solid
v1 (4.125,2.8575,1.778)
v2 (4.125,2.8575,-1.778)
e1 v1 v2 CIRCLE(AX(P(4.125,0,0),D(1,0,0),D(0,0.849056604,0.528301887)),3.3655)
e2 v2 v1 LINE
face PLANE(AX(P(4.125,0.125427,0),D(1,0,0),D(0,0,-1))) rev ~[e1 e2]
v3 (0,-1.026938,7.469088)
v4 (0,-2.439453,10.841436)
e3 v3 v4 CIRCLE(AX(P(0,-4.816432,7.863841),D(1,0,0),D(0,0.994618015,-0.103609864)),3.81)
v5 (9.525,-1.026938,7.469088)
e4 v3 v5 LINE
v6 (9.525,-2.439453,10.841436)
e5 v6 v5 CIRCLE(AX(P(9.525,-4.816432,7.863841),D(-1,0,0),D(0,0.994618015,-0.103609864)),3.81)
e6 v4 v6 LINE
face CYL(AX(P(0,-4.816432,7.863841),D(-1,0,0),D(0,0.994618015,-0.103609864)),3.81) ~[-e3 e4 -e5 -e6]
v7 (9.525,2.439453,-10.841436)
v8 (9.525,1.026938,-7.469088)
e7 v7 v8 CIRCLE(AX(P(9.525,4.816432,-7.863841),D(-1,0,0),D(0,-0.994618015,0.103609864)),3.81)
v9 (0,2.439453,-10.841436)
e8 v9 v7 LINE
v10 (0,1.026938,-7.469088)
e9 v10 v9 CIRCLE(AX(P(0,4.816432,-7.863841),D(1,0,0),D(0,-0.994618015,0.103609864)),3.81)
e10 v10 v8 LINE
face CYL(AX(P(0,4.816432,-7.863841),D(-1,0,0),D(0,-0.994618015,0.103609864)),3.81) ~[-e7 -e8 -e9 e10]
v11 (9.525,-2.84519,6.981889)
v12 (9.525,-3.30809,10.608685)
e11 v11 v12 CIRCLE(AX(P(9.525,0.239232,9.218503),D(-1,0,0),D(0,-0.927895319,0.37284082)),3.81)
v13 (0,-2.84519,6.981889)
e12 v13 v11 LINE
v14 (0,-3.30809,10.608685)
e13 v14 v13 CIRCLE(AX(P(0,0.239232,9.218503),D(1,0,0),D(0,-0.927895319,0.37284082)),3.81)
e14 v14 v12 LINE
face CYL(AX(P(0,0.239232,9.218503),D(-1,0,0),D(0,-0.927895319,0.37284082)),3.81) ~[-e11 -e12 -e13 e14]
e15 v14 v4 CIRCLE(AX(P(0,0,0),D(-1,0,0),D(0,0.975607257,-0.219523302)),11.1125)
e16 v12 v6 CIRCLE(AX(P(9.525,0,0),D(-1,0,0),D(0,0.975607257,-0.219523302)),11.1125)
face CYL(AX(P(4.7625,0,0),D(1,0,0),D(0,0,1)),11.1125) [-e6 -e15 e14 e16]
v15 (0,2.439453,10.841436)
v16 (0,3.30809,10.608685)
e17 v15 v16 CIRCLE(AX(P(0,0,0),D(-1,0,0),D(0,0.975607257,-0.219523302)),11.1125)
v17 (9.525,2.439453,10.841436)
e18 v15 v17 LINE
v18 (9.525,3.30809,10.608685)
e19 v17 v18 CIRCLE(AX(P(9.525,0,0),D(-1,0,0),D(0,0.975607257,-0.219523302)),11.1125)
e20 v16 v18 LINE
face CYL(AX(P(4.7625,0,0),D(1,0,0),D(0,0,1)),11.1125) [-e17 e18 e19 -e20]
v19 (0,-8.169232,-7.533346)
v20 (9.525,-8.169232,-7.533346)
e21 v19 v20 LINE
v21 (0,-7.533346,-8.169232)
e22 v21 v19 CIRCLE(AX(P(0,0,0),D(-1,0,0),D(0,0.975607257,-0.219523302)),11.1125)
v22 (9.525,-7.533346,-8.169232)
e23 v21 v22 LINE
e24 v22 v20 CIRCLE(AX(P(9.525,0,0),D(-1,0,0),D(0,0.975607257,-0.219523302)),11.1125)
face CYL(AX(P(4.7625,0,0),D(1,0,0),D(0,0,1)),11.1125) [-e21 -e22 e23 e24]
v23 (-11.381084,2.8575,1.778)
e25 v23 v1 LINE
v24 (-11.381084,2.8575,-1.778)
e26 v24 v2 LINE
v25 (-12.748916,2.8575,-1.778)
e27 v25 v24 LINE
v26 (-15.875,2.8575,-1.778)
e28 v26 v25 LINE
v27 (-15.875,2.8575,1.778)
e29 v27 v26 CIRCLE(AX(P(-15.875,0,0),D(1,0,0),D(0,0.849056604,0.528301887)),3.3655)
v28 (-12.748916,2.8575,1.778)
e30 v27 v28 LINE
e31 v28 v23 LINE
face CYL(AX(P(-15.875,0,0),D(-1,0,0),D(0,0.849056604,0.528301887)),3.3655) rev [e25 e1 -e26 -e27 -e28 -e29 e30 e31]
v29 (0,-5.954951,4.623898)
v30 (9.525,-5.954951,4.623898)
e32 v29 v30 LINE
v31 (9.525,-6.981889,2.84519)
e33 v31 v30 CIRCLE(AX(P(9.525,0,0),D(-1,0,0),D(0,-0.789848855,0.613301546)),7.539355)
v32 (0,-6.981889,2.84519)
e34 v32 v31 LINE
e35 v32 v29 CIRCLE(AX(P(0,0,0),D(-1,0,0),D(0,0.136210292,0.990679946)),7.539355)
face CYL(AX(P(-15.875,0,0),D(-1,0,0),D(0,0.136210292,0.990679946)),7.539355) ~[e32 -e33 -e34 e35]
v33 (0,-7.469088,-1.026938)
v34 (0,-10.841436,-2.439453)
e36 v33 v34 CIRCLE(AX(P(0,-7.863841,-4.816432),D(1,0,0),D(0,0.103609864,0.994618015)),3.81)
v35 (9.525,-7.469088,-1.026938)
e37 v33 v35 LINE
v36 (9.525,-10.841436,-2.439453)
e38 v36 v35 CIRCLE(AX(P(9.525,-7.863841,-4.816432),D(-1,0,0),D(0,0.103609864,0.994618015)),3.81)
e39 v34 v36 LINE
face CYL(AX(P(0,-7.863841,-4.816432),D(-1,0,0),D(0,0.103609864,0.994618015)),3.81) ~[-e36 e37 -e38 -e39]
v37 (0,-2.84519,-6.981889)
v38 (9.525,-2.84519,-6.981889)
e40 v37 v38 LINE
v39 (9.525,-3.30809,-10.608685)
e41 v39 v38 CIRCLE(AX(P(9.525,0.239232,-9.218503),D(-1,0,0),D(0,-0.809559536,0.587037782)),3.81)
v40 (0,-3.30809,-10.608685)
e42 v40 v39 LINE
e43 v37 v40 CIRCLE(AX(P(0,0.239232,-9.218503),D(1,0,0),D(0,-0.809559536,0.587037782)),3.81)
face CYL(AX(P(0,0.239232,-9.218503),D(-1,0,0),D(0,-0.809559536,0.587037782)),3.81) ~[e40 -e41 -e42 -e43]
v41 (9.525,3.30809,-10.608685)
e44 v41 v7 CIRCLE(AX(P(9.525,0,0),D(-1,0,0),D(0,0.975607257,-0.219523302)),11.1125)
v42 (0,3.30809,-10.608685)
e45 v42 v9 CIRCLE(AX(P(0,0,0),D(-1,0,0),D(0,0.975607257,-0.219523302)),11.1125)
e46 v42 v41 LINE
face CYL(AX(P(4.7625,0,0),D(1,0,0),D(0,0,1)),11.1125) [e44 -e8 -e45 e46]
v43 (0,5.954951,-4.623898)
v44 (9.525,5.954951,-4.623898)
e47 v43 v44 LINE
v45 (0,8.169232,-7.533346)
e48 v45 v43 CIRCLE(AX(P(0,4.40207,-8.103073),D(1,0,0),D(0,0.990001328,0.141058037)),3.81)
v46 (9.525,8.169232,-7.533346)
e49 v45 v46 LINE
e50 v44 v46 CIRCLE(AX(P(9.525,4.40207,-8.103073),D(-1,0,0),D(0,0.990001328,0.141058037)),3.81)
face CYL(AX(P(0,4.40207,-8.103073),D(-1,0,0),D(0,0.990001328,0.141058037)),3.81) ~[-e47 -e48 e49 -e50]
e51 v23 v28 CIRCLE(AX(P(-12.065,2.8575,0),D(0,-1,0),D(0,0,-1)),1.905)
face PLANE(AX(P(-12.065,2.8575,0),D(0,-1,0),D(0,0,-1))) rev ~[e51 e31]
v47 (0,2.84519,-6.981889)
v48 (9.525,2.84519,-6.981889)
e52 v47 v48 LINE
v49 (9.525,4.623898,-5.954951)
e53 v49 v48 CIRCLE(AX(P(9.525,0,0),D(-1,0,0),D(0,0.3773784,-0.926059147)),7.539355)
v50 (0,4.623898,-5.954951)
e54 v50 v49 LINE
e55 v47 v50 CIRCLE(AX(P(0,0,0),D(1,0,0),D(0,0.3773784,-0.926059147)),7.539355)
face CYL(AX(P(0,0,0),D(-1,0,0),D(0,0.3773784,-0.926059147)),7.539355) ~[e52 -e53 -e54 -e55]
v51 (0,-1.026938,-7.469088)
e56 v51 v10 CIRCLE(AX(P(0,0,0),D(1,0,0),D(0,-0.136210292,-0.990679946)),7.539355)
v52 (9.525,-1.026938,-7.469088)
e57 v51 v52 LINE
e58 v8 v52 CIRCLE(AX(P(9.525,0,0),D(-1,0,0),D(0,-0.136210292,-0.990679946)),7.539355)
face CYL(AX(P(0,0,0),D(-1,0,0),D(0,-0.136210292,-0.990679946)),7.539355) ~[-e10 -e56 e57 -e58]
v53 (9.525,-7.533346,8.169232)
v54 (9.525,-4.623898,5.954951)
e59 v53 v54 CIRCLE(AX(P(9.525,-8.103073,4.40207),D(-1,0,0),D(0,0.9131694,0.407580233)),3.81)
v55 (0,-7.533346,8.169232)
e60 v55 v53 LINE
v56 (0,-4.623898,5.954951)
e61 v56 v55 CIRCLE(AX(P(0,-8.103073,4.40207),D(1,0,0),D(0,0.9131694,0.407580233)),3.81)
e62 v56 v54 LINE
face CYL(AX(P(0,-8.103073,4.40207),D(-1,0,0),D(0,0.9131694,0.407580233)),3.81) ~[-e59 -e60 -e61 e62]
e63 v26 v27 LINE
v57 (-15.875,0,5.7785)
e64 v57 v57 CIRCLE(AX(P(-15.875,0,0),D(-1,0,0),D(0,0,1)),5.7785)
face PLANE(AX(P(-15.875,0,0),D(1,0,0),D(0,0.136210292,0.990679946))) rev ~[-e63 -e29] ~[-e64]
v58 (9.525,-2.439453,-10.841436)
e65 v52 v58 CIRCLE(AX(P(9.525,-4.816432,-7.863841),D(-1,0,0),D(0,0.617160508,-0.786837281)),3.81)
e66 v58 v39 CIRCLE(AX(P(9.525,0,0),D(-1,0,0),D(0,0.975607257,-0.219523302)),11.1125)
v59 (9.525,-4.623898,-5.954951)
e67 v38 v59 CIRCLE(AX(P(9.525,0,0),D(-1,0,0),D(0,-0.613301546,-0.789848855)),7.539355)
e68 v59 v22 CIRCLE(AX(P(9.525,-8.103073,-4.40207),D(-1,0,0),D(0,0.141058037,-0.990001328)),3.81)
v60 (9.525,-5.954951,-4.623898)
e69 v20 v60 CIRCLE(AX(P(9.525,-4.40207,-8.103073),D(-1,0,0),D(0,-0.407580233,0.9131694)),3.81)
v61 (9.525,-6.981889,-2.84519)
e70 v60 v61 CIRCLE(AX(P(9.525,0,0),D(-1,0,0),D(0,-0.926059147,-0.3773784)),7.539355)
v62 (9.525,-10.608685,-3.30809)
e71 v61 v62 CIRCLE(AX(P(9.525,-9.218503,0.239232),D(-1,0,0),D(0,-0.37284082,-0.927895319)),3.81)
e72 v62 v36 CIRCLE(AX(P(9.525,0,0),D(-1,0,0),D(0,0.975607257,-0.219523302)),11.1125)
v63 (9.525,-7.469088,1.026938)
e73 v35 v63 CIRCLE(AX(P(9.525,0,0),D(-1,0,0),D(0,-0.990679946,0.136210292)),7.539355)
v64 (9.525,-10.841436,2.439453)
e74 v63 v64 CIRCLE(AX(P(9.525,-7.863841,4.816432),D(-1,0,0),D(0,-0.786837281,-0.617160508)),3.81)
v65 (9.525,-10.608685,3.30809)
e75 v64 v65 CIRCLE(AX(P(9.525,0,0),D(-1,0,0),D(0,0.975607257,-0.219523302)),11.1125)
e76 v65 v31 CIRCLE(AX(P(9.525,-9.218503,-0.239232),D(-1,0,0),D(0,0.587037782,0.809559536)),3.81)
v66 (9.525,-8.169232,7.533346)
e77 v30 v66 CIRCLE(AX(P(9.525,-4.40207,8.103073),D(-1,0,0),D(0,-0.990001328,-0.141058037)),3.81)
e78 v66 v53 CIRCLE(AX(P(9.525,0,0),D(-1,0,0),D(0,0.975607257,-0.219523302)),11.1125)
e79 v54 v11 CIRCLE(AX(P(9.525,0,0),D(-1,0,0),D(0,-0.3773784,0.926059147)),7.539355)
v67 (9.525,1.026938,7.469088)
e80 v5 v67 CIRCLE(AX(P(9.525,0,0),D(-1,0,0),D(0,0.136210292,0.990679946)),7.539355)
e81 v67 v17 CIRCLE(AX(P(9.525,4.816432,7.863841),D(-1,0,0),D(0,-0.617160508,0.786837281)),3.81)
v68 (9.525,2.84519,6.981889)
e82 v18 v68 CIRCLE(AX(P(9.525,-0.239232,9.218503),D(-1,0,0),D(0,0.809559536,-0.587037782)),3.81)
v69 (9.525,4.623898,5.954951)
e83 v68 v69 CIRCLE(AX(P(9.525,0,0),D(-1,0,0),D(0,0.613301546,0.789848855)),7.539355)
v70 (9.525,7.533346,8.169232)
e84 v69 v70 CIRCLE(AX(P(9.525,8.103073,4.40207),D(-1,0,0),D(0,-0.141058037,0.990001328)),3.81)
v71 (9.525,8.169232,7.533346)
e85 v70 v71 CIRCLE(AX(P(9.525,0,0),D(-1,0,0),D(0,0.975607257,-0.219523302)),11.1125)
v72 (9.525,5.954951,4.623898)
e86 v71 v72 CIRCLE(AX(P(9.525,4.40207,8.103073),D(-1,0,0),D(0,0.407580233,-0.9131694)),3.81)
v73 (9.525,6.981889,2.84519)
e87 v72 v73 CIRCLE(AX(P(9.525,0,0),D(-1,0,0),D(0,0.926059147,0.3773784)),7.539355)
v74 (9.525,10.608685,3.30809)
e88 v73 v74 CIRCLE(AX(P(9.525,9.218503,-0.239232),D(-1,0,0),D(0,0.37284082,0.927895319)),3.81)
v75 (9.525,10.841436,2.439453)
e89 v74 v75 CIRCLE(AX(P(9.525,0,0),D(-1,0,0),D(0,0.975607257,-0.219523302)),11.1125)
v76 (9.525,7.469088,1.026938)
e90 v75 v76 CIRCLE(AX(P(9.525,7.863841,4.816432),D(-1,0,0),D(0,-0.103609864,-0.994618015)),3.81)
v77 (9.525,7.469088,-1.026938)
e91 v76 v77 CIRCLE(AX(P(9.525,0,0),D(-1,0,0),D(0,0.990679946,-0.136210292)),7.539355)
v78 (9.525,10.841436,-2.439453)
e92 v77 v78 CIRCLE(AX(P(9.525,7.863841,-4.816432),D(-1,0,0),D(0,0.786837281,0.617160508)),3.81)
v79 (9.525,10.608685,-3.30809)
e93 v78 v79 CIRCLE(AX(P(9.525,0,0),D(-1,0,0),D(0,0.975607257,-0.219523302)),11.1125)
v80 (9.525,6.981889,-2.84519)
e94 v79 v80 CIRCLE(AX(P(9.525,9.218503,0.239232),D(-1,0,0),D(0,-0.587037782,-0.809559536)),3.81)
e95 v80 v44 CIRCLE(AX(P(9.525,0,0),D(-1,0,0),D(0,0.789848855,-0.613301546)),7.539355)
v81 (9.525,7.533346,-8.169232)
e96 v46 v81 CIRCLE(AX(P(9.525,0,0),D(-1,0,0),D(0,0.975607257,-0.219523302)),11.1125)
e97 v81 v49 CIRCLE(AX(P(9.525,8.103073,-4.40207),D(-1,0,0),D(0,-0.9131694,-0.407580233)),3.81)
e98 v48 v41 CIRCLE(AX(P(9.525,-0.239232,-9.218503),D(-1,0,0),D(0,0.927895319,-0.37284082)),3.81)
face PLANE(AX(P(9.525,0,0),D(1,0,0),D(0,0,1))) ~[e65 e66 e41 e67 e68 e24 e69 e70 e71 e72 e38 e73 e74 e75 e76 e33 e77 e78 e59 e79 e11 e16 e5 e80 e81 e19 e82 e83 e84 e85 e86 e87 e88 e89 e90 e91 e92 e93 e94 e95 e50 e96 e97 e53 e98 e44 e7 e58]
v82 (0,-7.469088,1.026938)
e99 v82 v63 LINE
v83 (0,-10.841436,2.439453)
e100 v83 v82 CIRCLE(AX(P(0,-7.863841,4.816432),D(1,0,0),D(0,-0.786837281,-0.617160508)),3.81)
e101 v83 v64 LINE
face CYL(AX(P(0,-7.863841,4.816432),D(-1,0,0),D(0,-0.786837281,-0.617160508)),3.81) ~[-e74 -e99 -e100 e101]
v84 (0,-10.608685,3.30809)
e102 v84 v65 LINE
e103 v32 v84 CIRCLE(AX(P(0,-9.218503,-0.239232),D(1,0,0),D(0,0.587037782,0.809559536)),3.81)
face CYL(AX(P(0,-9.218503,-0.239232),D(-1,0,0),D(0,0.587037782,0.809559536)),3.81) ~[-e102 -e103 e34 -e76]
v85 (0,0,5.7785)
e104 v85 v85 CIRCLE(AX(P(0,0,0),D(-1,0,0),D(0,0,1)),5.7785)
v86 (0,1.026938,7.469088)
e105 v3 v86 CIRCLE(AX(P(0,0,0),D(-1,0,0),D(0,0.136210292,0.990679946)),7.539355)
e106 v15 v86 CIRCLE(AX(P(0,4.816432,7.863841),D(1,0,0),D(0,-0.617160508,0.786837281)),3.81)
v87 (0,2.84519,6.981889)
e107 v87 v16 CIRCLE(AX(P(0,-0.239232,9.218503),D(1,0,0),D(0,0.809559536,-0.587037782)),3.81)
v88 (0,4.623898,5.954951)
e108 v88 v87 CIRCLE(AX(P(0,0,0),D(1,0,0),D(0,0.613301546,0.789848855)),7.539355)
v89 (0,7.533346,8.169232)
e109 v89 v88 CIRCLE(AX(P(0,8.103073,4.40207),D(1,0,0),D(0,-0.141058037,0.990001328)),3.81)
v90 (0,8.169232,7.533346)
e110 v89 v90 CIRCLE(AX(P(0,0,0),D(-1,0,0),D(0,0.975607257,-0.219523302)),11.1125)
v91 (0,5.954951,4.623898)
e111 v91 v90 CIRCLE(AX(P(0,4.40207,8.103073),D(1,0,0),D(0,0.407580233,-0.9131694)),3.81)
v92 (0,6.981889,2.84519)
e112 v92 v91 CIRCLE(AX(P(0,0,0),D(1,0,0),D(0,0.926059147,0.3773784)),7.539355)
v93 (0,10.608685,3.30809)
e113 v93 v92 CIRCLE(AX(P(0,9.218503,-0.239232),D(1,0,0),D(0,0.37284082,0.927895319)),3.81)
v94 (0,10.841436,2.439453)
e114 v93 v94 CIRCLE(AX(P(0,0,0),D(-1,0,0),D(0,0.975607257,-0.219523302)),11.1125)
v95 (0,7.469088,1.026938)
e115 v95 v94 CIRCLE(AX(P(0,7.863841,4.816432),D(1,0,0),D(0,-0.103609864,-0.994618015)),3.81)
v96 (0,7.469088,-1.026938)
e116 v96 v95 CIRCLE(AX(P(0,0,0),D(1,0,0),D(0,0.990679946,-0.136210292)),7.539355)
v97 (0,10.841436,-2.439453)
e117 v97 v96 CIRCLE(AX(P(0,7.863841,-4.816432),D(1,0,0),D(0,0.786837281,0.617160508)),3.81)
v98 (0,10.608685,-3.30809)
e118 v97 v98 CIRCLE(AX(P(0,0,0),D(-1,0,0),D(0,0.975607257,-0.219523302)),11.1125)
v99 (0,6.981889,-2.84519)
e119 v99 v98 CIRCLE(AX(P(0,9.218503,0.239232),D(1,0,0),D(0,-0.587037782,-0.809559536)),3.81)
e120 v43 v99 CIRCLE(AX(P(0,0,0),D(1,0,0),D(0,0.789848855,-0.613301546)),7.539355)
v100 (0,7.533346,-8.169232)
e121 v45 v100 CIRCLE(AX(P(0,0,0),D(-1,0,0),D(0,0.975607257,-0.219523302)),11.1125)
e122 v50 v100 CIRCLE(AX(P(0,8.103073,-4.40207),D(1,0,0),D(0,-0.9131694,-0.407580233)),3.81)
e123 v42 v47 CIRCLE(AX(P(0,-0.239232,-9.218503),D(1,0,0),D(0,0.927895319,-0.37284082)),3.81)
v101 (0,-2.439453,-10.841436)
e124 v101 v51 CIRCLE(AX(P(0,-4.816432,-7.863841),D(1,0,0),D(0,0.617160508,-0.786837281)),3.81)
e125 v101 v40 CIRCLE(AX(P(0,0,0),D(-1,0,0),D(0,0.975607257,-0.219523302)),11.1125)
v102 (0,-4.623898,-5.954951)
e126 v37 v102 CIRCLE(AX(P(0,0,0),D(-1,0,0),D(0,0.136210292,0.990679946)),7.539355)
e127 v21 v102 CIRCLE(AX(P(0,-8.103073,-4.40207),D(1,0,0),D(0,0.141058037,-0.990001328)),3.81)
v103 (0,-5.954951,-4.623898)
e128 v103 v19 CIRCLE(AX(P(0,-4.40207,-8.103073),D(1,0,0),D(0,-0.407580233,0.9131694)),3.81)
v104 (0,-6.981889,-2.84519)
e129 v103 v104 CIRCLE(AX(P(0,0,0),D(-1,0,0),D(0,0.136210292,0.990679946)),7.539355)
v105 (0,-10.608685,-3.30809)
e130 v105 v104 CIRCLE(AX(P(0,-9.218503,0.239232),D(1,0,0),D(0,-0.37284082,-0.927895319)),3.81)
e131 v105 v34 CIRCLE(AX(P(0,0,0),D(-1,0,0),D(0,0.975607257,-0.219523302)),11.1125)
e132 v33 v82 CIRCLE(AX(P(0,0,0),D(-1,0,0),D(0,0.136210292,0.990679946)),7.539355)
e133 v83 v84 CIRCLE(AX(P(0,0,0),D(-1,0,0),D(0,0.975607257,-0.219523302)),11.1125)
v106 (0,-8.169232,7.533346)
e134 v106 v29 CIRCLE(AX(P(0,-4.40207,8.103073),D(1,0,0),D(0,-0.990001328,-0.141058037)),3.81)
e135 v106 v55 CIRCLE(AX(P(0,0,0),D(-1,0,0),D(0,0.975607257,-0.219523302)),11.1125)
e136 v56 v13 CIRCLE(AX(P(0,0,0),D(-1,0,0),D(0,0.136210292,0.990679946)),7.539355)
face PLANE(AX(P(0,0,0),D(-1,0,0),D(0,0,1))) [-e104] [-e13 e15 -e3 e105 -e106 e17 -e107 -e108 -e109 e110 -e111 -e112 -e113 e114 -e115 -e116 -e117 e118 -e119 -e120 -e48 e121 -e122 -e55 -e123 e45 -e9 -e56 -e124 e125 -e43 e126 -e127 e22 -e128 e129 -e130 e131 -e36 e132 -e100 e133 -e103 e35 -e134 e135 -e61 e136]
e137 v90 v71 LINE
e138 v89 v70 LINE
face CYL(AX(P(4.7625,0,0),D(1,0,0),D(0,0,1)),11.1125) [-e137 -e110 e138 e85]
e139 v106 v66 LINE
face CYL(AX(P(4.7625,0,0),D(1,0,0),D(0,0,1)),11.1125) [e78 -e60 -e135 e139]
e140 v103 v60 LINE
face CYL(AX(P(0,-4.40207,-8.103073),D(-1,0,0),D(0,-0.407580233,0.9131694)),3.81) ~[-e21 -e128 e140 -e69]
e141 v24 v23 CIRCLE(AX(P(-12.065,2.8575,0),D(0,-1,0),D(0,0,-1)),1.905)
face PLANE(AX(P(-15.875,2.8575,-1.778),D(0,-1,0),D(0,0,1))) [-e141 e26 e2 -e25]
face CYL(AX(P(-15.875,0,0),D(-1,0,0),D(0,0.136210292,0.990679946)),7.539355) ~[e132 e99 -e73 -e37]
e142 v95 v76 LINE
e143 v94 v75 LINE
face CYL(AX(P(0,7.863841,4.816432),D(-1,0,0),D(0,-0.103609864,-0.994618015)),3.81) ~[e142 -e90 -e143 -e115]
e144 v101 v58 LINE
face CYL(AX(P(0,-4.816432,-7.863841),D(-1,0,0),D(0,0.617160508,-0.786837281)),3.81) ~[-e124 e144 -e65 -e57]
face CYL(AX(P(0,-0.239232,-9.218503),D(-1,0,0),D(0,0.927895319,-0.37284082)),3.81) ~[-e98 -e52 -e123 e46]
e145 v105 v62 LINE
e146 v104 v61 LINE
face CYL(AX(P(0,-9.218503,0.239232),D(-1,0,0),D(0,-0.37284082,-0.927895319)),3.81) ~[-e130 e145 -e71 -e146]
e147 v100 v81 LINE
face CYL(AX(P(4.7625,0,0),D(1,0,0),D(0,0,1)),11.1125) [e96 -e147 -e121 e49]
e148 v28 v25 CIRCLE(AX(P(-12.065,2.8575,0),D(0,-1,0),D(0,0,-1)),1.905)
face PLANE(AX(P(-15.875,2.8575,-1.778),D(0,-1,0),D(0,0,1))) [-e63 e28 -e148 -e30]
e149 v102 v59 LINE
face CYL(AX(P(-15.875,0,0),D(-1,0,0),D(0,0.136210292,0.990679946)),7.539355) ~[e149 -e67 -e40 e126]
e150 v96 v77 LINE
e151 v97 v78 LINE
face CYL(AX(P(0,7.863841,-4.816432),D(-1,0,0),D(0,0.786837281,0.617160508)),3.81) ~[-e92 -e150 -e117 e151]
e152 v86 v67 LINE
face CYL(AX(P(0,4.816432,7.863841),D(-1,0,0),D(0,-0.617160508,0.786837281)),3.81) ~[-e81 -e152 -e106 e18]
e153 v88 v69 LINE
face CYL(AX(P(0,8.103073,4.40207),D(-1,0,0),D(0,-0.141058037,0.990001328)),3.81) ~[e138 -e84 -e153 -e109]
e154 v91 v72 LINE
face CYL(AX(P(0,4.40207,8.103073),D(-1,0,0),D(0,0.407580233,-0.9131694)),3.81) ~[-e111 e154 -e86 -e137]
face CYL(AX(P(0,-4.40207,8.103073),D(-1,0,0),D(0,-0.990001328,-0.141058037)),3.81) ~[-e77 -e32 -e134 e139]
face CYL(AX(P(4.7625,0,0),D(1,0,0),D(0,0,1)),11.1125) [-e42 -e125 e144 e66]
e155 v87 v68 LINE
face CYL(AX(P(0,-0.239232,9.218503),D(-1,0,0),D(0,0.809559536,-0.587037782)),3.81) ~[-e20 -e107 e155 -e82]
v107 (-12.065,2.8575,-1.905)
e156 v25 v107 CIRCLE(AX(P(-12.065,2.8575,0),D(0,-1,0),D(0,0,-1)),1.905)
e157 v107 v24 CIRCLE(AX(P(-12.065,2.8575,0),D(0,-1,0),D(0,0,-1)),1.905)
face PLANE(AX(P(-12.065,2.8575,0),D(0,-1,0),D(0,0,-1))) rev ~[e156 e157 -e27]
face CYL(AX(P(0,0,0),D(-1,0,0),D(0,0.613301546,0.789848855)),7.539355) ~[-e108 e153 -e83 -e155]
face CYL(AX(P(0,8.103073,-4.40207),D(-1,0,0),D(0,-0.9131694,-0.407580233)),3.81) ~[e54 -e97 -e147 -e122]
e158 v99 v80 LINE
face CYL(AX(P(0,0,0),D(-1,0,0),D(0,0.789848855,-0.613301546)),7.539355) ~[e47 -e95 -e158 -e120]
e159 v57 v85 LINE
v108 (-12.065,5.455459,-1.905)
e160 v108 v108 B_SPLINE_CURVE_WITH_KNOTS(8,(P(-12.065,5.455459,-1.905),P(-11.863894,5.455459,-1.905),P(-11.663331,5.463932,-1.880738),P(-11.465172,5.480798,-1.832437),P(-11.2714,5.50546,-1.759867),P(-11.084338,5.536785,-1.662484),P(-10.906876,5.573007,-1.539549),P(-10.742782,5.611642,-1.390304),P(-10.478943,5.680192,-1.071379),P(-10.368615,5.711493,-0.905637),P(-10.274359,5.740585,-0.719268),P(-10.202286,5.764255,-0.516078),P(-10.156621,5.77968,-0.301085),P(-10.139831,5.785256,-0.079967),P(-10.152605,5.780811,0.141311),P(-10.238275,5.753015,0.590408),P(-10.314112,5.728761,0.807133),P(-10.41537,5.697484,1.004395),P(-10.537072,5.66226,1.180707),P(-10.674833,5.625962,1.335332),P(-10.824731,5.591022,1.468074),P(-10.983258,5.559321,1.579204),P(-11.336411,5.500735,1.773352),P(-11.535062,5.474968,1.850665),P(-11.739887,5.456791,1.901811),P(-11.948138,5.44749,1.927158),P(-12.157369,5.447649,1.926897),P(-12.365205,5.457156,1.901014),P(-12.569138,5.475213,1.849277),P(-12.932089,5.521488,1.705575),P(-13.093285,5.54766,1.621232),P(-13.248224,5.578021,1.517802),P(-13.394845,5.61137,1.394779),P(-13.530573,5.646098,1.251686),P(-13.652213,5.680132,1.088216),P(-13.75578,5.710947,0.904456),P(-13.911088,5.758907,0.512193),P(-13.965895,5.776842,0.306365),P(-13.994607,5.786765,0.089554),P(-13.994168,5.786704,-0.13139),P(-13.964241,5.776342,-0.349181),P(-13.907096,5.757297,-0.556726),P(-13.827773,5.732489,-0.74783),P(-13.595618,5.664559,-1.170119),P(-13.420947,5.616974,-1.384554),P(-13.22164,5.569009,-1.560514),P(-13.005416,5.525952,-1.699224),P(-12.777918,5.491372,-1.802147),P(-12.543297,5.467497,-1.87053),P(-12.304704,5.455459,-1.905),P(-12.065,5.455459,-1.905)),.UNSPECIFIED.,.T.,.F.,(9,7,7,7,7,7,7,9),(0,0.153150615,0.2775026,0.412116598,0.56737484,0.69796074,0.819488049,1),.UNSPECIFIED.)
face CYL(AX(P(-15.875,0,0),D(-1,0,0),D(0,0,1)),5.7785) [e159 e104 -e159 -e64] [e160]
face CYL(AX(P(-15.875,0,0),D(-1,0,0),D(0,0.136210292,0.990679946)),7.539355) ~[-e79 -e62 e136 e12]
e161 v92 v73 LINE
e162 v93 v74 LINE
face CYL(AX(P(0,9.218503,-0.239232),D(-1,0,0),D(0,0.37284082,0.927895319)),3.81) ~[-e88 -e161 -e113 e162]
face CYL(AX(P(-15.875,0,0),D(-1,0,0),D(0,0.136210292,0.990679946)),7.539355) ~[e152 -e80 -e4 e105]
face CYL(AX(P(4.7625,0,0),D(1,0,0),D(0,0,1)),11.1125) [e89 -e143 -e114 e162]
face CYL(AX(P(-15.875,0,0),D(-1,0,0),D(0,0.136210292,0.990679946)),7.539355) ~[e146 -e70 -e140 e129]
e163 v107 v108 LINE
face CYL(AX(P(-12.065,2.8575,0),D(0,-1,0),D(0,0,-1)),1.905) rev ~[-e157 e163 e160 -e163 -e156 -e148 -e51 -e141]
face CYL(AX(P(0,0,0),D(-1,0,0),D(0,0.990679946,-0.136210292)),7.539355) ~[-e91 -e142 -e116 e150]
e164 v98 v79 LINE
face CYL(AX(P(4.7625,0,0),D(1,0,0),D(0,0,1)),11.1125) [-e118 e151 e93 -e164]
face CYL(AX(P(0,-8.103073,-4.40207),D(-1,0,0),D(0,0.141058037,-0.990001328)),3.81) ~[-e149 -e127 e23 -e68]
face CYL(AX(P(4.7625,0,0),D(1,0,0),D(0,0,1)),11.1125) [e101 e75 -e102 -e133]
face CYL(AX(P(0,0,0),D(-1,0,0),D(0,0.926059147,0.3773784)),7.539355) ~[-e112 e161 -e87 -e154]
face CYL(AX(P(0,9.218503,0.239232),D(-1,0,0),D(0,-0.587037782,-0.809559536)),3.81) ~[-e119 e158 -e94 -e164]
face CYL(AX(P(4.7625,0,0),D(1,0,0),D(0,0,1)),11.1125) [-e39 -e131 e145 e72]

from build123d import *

# Parameters (mm, degrees)
BASPROSKE_W         = 9.525
BASPROSKE_H         = 11.1125
TOOTHCUT_DEPTH      = 19.376641083
TEETHCUTS_COUNT     = 12
TEETHCUTS_ANGLE     = 330
BORSKE_R            = 3.175
BORE_DEPTH          = 50.8000508
BOSS_EXTRUDE1_START = -25.4
SKETCH2_R           = 7.539355
BOSS_EXTRUDE1_DEPTH = 25.4
CUT_EXTRUDE1_DEPTH  = 20
SKETCH5_R           = 1.905
CUT_EXTRUDE2_DEPTH  = 24.605363577
SKETCH6_R           = 12.7
SKETCH6_R_2         = 5.7785
CUT_EXTRUDE3_DEPTH  = 15.875


with BuildPart() as part:
    # BasProSke → Base-Revolve (revolve)
    with BuildSketch(Plane(origin=(0, 0, 0), x_dir=(1, 0, 0), z_dir=(0, 1, 0)), mode=Mode.PRIVATE) as base_revolve_sk:
        with Locations((4.7625, 5.55625)):
            Rectangle(BASPROSKE_W, BASPROSKE_H)
    revolve(base_revolve_sk.sketch.rotate(Axis((-10, 0, 0), (1, 0, 0)), 180), axis=Axis((-10, 0, 0), (1, 0, 0)))

    # TooCutSke → ToothCut (cut, through all)
    with BuildSketch(Plane(origin=(0, 0, 0), x_dir=(0, 0, -1), z_dir=(1, 0, 0))):
        with BuildLine():
            ThreePointArc((1.026937745, 7.469087808), (0, 7.539355), (-1.026937745, 7.469087808))
            ThreePointArc((-1.026937745, 7.469087808), (-1.30857978, 9.35080814), (-2.465050847, 10.861691431))
            ThreePointArc((-2.465050847, 10.861691431), (0, 11.1379), (2.465050847, 10.861691431))
            ThreePointArc((2.465050847, 10.861691431), (1.30857978, 9.35080814), (1.026937745, 7.469087808))
        make_face()
    toothcut = extrude(amount=TOOTHCUT_DEPTH, mode=Mode.SUBTRACT)

    # TeethCuts: ToothCut ×12 about axis
    teethcuts_axis = Axis((-10, 0, 0), (1, 0, 0))
    for i in range(1, TEETHCUTS_COUNT):
        add(toothcut.rotate(teethcuts_axis, i * TEETHCUTS_ANGLE / (TEETHCUTS_COUNT - 1)), mode=Mode.SUBTRACT)

    # BorSke → Bore (cut, symmetric)
    with BuildSketch(Plane(origin=(0, 0, 0), x_dir=(0, 0, -1), z_dir=(1, 0, 0))):
        with Locations(Location((0, 0, 0), (0, 0, 180))):
            Circle(BORSKE_R)
    extrude(amount=BORE_DEPTH, both=True, mode=Mode.SUBTRACT)

    # Sketch2 → Boss-Extrude1 (add)
    with BuildSketch(Plane(origin=(9.525, 0, 0), x_dir=(0, 0, -1), z_dir=(1, 0, 0)).offset(BOSS_EXTRUDE1_START)):
        with Locations(Location((0, 0, 0), (0, 0, 172.171388978))):
            Circle(SKETCH2_R)
    extrude(amount=BOSS_EXTRUDE1_DEPTH)

    # Sketch3 → Cut-Extrude1 (cut)
    with BuildSketch(Plane.ZY.offset(15.875)):
        with BuildLine():
            Line((-1.778, 2.8575), (1.778, 2.8575))
            ThreePointArc((1.778, 2.8575), (0, -3.3655), (-1.778, 2.8575))
        make_face()
    extrude(amount=-CUT_EXTRUDE1_DEPTH, mode=Mode.SUBTRACT)

    # Sketch5 → Cut-Extrude2 (cut, through all)
    with BuildSketch(Plane.XZ.offset(-2.8575)):
        with Locations(Location((-12.065, 0, 0), (0, 0, 270))):
            Circle(SKETCH5_R)
    extrude(amount=-CUT_EXTRUDE2_DEPTH, mode=Mode.SUBTRACT)

    # Sketch6 → Cut-Extrude3 (cut)
    with BuildSketch(Plane.ZY.offset(15.875)):
        Circle(SKETCH6_R)
        Circle(SKETCH6_R_2, mode=Mode.SUBTRACT)
    extrude(amount=-CUT_EXTRUDE3_DEPTH, mode=Mode.SUBTRACT)


solid = part.part
